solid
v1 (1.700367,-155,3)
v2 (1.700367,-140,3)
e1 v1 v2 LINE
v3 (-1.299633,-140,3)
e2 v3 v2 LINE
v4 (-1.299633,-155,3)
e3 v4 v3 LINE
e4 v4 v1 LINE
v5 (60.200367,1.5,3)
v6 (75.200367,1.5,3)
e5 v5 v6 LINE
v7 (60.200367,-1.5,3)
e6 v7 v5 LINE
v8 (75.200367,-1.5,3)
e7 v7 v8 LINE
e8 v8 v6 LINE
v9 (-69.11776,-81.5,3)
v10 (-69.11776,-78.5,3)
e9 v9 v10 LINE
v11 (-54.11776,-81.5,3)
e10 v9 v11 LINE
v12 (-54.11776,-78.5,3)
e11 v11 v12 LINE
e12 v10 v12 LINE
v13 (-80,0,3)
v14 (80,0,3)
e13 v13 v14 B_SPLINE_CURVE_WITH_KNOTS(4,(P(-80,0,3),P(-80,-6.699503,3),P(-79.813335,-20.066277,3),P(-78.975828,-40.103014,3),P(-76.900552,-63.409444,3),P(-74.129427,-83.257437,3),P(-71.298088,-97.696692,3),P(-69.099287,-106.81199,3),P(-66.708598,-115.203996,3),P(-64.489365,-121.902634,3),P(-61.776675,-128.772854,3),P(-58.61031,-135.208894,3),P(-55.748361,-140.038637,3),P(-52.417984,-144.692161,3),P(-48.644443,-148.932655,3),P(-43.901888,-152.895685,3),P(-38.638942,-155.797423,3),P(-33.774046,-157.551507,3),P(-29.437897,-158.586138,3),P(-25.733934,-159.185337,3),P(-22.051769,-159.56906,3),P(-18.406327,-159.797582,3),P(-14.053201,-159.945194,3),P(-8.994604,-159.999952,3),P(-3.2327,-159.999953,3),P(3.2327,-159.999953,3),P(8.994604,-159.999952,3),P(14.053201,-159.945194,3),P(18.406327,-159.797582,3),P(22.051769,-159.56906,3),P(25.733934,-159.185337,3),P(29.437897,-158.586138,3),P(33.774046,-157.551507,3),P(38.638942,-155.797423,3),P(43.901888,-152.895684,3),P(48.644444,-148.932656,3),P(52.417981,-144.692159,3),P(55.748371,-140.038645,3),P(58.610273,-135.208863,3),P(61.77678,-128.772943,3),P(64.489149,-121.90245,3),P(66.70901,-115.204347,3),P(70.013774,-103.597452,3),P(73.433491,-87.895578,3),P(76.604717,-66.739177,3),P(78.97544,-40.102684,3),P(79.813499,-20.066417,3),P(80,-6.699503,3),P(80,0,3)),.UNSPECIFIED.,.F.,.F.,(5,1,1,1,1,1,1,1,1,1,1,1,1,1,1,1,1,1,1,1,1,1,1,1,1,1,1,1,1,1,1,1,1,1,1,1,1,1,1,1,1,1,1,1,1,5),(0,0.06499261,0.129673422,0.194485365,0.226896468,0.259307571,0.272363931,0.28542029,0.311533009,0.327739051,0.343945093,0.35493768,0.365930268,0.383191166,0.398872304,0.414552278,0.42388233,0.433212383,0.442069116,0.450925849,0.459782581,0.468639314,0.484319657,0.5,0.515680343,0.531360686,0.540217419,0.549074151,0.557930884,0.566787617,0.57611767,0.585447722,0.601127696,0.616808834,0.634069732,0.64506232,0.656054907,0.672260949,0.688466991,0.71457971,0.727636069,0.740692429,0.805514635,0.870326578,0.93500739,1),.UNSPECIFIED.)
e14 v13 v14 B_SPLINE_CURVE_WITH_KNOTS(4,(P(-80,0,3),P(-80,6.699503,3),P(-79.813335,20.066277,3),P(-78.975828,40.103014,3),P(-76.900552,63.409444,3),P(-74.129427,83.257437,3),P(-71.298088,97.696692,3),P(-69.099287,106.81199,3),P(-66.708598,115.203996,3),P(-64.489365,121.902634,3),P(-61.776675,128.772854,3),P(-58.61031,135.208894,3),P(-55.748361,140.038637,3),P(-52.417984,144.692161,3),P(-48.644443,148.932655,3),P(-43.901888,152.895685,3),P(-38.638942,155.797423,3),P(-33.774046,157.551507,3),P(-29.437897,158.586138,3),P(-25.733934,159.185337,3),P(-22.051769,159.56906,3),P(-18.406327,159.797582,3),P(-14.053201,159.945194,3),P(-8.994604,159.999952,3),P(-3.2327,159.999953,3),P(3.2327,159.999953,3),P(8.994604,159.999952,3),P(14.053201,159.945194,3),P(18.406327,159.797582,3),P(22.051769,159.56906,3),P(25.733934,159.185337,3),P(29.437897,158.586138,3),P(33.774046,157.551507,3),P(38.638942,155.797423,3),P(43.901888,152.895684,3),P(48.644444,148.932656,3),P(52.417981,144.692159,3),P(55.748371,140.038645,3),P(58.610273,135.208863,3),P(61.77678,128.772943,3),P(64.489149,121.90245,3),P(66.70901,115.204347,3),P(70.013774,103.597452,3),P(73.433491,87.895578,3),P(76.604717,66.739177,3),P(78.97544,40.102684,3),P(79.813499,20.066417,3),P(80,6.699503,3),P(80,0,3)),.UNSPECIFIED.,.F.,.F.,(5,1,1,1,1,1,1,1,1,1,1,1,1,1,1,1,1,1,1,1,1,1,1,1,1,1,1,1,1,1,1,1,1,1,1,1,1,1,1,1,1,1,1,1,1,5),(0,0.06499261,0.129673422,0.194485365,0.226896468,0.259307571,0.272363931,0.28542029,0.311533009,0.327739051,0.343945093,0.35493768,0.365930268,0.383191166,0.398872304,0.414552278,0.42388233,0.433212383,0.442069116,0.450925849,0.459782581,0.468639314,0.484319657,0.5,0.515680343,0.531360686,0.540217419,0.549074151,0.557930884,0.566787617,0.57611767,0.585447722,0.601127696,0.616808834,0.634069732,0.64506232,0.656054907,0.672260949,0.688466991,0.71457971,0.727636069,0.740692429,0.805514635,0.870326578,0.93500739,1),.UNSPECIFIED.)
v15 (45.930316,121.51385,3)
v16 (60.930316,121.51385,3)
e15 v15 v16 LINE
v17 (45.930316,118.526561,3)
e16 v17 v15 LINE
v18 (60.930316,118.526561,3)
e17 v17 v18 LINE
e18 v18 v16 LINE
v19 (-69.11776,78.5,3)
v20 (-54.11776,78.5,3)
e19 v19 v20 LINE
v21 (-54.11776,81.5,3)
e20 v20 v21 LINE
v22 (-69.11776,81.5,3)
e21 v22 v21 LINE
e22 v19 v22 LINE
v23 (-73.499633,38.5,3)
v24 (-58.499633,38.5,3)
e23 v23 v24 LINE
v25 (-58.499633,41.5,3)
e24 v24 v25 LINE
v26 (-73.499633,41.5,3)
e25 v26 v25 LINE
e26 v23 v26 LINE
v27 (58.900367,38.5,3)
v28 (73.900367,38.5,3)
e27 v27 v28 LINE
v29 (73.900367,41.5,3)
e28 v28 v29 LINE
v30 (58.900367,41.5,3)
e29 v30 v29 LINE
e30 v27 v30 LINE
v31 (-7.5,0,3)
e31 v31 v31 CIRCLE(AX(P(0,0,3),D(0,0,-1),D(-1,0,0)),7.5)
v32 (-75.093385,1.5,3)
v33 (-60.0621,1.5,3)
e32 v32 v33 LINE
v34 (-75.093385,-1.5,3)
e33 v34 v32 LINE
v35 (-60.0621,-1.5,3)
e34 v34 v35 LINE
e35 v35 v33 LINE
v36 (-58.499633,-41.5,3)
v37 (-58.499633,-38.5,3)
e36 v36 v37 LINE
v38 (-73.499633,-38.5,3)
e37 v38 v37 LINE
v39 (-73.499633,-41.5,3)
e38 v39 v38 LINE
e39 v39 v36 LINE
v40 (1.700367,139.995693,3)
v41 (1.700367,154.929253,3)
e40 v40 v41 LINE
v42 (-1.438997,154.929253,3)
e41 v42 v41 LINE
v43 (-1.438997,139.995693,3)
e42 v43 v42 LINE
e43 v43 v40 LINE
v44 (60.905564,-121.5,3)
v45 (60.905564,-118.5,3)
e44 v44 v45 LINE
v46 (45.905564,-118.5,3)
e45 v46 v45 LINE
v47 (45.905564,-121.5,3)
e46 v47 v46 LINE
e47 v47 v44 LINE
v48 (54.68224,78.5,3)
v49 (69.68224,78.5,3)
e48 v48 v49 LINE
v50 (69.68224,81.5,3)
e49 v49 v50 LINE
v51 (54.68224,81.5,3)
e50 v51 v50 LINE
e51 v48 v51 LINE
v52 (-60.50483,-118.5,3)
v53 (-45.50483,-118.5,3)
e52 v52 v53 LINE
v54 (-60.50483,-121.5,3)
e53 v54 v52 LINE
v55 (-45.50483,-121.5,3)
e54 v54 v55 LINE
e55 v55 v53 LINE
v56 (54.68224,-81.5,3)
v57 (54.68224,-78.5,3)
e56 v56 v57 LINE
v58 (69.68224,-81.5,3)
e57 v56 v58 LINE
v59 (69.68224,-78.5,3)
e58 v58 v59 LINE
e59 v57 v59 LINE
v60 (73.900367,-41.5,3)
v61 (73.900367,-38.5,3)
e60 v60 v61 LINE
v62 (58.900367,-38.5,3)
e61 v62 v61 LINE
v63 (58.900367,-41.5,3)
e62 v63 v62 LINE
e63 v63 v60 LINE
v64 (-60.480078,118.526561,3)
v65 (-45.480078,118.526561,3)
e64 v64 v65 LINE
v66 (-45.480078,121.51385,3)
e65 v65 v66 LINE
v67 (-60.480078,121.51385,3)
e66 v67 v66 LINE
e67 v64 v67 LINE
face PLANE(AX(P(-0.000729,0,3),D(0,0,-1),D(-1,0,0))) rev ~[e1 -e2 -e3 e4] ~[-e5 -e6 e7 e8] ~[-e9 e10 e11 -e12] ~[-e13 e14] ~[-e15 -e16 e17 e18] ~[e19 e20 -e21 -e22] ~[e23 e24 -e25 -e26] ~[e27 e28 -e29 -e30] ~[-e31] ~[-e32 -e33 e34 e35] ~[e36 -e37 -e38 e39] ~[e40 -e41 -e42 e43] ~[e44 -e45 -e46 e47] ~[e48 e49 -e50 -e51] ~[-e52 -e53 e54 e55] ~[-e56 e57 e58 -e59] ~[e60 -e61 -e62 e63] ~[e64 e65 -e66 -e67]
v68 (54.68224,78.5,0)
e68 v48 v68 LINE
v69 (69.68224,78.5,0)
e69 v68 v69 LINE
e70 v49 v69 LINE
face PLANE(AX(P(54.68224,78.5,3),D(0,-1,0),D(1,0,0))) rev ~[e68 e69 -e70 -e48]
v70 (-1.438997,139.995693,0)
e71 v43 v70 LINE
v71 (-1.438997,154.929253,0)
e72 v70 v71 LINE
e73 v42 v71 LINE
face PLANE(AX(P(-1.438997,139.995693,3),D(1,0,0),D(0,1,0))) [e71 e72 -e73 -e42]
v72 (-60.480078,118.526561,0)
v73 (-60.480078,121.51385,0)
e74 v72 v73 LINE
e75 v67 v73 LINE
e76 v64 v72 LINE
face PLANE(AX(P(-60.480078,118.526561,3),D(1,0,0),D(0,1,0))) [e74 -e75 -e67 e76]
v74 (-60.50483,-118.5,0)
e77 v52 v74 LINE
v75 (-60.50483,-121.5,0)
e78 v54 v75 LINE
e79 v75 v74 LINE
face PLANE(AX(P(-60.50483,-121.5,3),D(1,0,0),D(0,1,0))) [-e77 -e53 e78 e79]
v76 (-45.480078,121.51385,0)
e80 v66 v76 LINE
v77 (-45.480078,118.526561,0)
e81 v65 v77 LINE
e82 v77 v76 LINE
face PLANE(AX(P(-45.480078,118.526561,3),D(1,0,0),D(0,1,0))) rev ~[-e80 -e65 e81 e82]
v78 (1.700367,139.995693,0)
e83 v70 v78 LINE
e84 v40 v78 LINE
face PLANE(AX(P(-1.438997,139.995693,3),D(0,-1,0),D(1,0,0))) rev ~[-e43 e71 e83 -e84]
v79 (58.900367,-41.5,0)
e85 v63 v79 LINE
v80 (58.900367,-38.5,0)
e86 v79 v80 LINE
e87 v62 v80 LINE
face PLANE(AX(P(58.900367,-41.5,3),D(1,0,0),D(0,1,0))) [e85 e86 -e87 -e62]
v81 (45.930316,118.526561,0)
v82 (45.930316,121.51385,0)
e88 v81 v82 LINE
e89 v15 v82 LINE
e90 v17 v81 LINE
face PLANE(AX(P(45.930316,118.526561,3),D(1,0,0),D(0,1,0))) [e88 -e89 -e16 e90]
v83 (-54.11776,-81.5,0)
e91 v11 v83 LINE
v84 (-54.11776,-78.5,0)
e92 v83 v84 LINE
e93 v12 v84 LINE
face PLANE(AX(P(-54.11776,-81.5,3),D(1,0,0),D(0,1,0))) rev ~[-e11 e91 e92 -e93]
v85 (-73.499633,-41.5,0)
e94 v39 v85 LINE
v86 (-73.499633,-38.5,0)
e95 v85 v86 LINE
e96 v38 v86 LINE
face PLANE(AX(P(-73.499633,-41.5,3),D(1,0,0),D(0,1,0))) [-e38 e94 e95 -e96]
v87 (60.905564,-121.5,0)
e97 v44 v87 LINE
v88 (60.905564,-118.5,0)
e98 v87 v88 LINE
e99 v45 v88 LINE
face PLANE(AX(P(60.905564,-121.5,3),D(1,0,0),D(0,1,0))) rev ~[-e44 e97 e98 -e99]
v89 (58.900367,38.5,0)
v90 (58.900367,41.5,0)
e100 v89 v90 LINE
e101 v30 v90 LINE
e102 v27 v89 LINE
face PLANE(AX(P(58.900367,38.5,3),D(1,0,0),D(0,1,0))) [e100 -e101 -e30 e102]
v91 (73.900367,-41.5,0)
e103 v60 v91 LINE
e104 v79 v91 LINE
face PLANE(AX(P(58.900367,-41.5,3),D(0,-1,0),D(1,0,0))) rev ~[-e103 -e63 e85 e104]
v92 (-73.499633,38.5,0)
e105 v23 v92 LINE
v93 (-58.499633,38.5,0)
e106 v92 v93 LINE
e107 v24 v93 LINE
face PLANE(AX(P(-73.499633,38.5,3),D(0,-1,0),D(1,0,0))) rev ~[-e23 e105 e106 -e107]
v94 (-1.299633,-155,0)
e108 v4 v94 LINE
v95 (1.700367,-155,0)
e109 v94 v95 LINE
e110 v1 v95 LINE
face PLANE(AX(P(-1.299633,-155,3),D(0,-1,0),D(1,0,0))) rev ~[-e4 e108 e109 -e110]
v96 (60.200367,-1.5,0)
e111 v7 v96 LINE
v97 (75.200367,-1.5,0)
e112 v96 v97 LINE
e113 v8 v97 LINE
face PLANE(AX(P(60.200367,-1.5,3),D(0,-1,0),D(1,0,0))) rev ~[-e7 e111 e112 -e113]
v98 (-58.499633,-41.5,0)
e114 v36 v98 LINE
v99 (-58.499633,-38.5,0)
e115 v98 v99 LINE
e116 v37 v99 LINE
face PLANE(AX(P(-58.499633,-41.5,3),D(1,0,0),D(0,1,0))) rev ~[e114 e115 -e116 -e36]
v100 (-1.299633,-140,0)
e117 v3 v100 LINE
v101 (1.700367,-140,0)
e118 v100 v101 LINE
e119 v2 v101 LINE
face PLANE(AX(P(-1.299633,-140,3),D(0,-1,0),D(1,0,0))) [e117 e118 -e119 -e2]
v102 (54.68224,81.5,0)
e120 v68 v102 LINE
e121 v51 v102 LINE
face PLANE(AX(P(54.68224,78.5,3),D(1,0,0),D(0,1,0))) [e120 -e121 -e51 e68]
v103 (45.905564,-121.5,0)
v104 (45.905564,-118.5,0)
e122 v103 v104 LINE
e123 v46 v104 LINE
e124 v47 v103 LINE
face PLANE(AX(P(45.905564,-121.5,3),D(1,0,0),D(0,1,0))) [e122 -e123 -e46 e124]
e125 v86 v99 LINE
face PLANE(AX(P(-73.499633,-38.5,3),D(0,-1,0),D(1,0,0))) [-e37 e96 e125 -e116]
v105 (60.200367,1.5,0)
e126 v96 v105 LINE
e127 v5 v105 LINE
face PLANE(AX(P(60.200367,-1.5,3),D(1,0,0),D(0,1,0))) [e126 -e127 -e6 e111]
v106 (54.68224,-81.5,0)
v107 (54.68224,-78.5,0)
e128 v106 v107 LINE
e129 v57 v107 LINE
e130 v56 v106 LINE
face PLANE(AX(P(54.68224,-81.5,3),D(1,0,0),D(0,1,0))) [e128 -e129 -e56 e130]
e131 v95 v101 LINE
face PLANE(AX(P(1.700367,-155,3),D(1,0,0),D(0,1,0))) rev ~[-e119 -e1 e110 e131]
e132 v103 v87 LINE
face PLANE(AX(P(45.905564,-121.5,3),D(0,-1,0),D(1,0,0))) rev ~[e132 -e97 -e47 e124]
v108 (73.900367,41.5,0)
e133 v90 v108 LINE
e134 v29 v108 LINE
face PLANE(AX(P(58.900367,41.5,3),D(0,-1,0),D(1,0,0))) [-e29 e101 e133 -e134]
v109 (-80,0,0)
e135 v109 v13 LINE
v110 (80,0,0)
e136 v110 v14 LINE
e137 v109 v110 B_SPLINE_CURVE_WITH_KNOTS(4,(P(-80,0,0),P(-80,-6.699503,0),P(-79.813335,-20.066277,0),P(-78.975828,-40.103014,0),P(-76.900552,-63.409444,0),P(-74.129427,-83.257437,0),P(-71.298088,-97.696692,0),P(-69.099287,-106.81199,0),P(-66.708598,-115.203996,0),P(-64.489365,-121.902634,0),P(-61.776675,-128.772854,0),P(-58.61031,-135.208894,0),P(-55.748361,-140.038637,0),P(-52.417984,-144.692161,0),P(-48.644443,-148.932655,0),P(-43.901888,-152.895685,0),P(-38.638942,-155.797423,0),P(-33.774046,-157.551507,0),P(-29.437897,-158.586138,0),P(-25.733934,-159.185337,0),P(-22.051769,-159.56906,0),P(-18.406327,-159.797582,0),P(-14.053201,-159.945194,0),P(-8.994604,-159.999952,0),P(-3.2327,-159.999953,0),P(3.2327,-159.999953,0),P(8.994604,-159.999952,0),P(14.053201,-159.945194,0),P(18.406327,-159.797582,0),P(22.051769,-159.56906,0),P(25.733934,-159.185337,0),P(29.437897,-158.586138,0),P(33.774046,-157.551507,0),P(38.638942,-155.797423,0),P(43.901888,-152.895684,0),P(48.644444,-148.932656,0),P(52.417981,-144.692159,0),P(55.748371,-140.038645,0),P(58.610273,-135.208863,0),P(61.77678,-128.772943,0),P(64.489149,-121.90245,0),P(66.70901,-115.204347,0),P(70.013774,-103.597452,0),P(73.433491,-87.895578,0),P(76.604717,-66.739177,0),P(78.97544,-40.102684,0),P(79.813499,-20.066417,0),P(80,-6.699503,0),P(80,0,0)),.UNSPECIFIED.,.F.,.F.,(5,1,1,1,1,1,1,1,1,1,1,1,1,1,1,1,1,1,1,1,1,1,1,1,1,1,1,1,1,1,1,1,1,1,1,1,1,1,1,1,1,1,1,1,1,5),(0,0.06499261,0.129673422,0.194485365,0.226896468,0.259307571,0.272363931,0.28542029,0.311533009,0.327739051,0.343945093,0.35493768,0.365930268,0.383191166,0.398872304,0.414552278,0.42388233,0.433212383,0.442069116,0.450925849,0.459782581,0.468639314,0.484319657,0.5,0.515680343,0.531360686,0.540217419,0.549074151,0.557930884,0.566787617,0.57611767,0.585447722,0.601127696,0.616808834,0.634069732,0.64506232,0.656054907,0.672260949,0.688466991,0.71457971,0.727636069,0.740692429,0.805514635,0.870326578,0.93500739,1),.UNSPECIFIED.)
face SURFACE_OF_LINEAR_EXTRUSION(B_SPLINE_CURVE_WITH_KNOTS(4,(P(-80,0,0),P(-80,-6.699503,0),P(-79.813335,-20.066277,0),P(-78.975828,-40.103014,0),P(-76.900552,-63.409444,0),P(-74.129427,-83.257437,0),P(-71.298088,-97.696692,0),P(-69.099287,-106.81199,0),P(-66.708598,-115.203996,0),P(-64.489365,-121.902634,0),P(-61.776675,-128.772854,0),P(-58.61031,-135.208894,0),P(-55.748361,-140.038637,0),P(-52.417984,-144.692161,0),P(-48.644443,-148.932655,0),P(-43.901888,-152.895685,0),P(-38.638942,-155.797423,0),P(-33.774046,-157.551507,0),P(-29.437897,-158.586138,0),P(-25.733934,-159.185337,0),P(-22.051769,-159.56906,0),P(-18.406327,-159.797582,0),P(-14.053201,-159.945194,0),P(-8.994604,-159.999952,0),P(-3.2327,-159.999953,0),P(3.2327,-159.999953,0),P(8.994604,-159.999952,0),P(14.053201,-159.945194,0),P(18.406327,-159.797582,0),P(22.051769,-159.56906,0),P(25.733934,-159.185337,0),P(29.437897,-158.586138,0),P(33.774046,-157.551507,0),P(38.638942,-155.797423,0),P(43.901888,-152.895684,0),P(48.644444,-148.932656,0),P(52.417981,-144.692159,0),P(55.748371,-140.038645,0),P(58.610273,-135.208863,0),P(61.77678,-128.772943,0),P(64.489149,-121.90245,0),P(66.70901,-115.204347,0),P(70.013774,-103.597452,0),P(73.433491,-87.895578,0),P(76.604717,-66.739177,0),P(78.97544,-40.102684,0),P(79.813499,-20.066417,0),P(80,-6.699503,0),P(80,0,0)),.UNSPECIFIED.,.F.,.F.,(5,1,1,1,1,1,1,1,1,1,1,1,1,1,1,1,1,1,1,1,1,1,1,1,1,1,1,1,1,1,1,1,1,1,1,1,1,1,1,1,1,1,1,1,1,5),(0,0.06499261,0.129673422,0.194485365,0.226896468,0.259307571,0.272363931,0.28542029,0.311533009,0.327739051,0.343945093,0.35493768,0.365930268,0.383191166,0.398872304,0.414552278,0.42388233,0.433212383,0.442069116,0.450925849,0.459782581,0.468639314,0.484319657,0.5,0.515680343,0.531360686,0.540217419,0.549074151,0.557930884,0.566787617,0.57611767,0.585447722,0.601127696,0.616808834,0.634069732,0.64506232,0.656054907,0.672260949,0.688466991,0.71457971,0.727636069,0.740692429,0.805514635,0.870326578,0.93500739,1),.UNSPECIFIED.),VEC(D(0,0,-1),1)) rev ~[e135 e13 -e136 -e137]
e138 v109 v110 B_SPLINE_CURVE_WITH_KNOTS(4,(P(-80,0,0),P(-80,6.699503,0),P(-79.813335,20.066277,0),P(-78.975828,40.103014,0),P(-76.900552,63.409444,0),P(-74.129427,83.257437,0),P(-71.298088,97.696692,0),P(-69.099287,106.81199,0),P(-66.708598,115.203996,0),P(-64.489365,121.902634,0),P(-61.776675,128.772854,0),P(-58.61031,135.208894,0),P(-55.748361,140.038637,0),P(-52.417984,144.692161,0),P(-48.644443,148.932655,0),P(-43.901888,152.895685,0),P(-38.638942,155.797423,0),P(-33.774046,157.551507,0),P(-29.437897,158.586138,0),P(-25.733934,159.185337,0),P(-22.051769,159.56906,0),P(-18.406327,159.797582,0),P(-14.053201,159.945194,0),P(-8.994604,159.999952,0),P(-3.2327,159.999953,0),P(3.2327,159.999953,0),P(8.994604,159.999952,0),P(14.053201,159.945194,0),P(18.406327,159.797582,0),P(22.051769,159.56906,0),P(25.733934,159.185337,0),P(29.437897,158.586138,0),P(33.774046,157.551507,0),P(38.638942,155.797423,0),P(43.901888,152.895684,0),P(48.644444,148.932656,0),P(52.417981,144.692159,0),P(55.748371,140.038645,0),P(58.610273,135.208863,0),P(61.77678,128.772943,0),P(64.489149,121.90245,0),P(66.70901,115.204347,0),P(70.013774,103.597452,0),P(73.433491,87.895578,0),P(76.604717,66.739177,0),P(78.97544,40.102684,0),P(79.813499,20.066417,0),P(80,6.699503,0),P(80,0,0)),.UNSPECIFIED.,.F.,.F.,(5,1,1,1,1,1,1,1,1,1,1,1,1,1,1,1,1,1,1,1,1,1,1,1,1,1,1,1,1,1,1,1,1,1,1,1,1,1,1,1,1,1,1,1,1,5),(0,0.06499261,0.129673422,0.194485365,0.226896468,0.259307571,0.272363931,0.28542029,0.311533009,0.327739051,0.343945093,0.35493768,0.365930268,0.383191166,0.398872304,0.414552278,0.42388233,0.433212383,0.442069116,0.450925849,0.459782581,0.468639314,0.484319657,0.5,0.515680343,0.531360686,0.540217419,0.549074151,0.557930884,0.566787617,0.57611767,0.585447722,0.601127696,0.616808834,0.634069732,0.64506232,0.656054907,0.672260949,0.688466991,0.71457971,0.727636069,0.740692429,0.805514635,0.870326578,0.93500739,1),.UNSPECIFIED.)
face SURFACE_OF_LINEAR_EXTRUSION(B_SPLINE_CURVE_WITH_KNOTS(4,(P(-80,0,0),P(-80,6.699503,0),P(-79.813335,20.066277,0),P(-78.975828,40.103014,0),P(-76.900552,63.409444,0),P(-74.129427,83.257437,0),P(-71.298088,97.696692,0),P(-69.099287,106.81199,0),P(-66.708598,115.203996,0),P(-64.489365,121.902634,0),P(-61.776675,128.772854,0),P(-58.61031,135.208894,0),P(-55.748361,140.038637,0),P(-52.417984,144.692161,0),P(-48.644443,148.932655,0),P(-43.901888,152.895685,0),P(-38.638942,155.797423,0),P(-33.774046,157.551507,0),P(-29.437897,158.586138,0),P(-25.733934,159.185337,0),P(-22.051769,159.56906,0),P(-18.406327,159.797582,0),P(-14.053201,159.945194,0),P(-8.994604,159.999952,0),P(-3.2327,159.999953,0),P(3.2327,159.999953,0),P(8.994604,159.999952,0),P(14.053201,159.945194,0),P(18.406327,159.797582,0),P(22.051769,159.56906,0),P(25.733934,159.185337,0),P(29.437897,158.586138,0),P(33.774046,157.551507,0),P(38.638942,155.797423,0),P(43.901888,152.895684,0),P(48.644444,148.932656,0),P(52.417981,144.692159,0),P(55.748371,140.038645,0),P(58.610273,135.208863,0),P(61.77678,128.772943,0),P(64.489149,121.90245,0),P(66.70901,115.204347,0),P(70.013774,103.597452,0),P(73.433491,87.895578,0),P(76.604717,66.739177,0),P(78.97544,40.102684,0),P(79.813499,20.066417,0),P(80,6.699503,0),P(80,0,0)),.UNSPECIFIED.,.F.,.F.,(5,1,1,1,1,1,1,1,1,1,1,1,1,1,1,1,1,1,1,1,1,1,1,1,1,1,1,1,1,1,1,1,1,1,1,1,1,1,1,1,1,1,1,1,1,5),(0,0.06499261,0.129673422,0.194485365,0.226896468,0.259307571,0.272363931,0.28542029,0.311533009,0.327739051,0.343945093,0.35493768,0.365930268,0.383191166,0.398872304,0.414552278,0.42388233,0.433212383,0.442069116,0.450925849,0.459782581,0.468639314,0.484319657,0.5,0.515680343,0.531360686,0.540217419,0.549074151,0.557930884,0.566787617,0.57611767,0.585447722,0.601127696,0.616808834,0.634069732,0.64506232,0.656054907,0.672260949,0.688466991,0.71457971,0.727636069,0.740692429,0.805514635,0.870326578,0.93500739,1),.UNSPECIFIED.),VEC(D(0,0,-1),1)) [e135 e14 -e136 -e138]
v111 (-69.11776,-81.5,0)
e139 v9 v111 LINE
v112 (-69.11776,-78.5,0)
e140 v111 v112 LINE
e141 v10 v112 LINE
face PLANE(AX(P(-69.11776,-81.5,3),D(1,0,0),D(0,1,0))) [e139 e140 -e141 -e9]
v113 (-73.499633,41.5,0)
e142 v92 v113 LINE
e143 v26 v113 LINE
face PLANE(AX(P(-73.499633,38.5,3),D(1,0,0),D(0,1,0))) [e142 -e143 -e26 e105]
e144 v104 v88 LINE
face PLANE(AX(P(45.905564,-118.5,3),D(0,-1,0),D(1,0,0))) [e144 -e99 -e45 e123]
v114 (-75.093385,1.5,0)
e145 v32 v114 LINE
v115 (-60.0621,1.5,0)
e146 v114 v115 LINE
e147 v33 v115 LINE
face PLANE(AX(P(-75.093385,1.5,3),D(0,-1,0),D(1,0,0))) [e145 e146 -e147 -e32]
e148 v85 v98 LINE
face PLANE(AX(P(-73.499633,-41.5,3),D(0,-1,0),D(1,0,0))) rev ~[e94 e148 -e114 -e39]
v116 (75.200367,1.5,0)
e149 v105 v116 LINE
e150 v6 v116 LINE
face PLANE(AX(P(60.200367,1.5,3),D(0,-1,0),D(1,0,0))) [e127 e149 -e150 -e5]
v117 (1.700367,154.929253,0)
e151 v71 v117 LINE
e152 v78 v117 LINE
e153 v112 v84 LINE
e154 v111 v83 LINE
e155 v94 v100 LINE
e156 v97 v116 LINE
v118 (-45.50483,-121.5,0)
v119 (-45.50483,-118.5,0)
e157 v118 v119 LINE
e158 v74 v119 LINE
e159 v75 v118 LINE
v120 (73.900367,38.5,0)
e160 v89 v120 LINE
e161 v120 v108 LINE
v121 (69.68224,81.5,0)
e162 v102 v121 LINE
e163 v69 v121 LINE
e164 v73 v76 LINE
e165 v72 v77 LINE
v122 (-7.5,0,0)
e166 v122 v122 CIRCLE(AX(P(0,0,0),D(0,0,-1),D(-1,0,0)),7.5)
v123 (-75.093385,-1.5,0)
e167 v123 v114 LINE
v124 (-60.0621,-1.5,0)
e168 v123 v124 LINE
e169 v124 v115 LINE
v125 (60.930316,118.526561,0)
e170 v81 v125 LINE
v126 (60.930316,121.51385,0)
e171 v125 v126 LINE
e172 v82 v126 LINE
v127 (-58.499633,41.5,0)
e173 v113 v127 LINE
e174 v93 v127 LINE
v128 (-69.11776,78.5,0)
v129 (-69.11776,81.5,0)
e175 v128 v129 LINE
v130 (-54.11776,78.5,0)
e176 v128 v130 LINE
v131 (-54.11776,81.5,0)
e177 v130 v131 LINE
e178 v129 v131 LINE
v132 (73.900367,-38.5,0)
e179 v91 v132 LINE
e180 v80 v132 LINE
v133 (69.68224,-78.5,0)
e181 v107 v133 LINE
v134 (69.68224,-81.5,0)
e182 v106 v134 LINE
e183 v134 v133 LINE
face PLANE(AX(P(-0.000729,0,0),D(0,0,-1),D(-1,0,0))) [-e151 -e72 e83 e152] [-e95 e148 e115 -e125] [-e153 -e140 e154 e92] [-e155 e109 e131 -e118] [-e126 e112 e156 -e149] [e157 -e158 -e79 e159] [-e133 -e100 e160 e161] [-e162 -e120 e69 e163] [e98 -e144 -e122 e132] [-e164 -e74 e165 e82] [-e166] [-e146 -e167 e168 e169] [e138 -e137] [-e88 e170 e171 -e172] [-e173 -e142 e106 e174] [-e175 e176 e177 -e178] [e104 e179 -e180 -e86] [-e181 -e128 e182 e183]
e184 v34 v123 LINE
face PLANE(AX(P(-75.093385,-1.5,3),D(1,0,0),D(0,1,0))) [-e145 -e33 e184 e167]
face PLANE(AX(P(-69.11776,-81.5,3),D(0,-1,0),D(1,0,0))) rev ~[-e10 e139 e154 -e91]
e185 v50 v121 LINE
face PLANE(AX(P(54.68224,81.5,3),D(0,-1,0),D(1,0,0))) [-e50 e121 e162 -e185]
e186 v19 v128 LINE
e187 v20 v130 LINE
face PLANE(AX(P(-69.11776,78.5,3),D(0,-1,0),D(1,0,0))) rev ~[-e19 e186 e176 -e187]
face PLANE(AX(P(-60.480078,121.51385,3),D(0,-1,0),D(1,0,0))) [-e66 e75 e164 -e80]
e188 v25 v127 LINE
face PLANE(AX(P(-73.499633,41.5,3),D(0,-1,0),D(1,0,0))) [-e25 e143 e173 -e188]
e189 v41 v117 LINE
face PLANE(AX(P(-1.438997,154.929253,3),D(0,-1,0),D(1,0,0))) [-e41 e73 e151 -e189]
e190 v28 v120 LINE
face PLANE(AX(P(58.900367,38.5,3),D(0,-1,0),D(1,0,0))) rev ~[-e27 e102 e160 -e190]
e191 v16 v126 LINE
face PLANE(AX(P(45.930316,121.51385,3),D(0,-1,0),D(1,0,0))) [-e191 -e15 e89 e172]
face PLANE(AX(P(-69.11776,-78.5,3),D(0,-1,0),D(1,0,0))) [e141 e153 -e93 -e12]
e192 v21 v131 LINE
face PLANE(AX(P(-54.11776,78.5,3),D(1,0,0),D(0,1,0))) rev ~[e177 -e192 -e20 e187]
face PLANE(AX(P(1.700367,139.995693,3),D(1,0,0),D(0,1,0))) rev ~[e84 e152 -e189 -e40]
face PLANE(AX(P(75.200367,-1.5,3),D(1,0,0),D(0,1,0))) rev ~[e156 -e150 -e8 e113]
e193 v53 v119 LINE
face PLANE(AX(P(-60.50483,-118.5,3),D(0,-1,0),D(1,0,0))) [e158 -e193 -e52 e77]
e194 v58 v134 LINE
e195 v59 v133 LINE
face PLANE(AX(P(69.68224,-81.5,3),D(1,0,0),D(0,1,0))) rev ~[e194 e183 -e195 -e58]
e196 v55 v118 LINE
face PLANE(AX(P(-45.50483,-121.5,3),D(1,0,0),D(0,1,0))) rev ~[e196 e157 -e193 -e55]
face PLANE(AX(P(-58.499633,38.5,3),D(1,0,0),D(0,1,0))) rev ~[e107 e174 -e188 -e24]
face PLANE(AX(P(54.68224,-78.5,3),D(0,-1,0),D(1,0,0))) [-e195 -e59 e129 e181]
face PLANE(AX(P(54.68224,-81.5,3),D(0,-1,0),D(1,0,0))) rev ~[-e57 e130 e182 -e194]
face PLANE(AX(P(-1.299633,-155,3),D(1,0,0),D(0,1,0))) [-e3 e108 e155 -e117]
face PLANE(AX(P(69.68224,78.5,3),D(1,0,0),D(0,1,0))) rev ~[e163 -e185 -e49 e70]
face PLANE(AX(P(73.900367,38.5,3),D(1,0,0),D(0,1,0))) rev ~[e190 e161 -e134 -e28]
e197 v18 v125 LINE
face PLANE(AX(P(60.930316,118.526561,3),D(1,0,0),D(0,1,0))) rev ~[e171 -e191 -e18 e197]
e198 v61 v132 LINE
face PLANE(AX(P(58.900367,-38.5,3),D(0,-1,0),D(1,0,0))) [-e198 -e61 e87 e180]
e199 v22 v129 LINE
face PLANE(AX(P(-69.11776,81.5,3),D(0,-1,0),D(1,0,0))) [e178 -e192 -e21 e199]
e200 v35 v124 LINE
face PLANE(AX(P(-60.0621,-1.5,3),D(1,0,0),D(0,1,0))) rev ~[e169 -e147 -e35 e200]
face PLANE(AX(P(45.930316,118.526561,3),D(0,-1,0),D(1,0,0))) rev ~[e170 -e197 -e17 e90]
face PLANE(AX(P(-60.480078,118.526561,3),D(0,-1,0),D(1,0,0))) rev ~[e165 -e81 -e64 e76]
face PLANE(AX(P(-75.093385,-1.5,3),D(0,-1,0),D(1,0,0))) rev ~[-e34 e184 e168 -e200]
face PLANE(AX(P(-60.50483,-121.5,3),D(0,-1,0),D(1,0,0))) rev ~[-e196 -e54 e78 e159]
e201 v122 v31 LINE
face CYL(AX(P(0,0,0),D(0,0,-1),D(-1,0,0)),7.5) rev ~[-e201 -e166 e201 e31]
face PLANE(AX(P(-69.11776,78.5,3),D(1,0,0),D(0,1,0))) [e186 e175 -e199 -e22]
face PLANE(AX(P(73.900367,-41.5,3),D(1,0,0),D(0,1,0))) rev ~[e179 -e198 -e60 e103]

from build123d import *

# Parameters (mm, degrees)
EXTRUDE_1_DEPTH     = 3
SKETCH_3_W          = 3
SKETCH_3_H          = 15.000000006
SKETCH_3_W_2        = 15
SKETCH_3_H_2        = 3
SKETCH_3_W_3        = 15.00000006
SKETCH_3_W_4        = 15.031285664
SKETCH_3_H_3        = 2.98728904
SKETCH_3_W_5        = 3.139363819
SKETCH_3_H_4        = 14.933559722
CUT_EXTRUDE_1_DEPTH = 3
SKETCH_5_W          = 14.999999994
SKETCH_5_H          = 3
SKETCH_5_W_2        = 14.999999996
CUT_EXTRUDE_2_DEPTH = 3
SKETCH_7_R          = 7.5
CUT_EXTRUDE_3_DEPTH = 3


with BuildPart() as part:
    # 草图1 → 凸台-拉伸1 (new body)
    with BuildSketch(Plane.XY):
        with BuildLine():
            add(Edge.make_bspline(
                [(-80, 0), (-79.999999517, 6.699503197), (-79.813334657, 20.06627682), (-78.975827788, 40.103014347), (-76.900551884, 63.409443582), (-74.129426691, 83.257436743), (-71.298088169, 97.696692105), (-69.099286902, 106.811990018), (-66.70859783, 115.203996028), (-64.48936494, 121.902634073), (-61.776675321, 128.772853984), (-58.610309744, 135.208894491), (-55.748361383, 140.038637222), (-52.417983516, 144.692160649), (-48.644443211, 148.932654926), (-43.90188816, 152.895684545), (-38.638941508, 155.797422808), (-33.774046499, 157.55150664), (-29.437897495, 158.586138347), (-25.733934467, 159.185337458), (-22.051769463, 159.569060425), (-18.406326982, 159.797581877), (-14.053201072, 159.945194341), (-8.994603761, 159.999951963), (-3.232699743, 159.999952561), (3.232699743, 159.999952561), (8.994603761, 159.999951963), (14.053201071, 159.945194341), (18.406326982, 159.797581876), (22.051769464, 159.569060426), (25.733934469, 159.185337459), (29.437897495, 158.586138348), (33.77404647, 157.551506616), (38.638941617, 155.797422901), (43.901887855, 152.895684285), (48.644443968, 148.932655572), (52.417981042, 144.69215854), (55.748370939, 140.038645368), (58.610273081, 135.208863236), (61.776779921, 128.772943152), (64.4891488, 121.90244982), (66.709010037, 115.204347422), (70.013773512, 103.597451909), (73.433491394, 87.895578262), (76.604717125, 66.739177323), (78.975439873, 40.102683662), (79.813498867, 20.066416803), (79.999999517, 6.699503197), (80, 0)],
                knots=[0, 0, 0, 0, 0, 0.06499261, 0.129673422, 0.194485365, 0.226896468, 0.259307571, 0.272363931, 0.28542029, 0.311533009, 0.327739051, 0.343945093, 0.35493768, 0.365930268, 0.383191166, 0.398872304, 0.414552278, 0.42388233, 0.433212383, 0.442069116, 0.450925849, 0.459782581, 0.468639314, 0.484319657, 0.5, 0.515680343, 0.531360686, 0.540217419, 0.549074151, 0.557930884, 0.566787617, 0.57611767, 0.585447722, 0.601127696, 0.616808834, 0.634069732, 0.64506232, 0.656054907, 0.672260949, 0.688466991, 0.71457971, 0.727636069, 0.740692429, 0.805514635, 0.870326578, 0.93500739, 1, 1, 1, 1, 1], degree=4))
            add(Edge.make_bspline(
                [(-80, 0), (-79.999999517, -6.699503197), (-79.813334657, -20.06627682), (-78.975827788, -40.103014347), (-76.900551884, -63.409443582), (-74.129426691, -83.257436743), (-71.298088169, -97.696692105), (-69.099286902, -106.811990018), (-66.70859783, -115.203996028), (-64.48936494, -121.902634073), (-61.776675321, -128.772853984), (-58.610309744, -135.208894491), (-55.748361383, -140.038637222), (-52.417983516, -144.692160649), (-48.644443211, -148.932654926), (-43.90188816, -152.895684545), (-38.638941508, -155.797422808), (-33.774046499, -157.55150664), (-29.437897495, -158.586138347), (-25.733934467, -159.185337458), (-22.051769463, -159.569060425), (-18.406326982, -159.797581877), (-14.053201072, -159.945194341), (-8.994603761, -159.999951963), (-3.232699743, -159.999952561), (3.232699743, -159.999952561), (8.994603761, -159.999951963), (14.053201071, -159.945194341), (18.406326982, -159.797581876), (22.051769464, -159.569060426), (25.733934469, -159.185337459), (29.437897495, -158.586138348), (33.77404647, -157.551506616), (38.638941617, -155.797422901), (43.901887855, -152.895684285), (48.644443968, -148.932655572), (52.417981042, -144.69215854), (55.748370939, -140.038645368), (58.610273081, -135.208863236), (61.776779921, -128.772943152), (64.4891488, -121.90244982), (66.709010037, -115.204347422), (70.013773512, -103.597451909), (73.433491394, -87.895578262), (76.604717125, -66.739177323), (78.975439873, -40.102683662), (79.813498867, -20.066416803), (79.999999517, -6.699503197), (80, 0)],
                knots=[0, 0, 0, 0, 0, 0.06499261, 0.129673422, 0.194485365, 0.226896468, 0.259307571, 0.272363931, 0.28542029, 0.311533009, 0.327739051, 0.343945093, 0.35493768, 0.365930268, 0.383191166, 0.398872304, 0.414552278, 0.42388233, 0.433212383, 0.442069116, 0.450925849, 0.459782581, 0.468639314, 0.484319657, 0.5, 0.515680343, 0.531360686, 0.540217419, 0.549074151, 0.557930884, 0.566787617, 0.57611767, 0.585447722, 0.601127696, 0.616808834, 0.634069732, 0.64506232, 0.656054907, 0.672260949, 0.688466991, 0.71457971, 0.727636069, 0.740692429, 0.805514635, 0.870326578, 0.93500739, 1, 1, 1, 1, 1], degree=4))
        make_face()
    extrude(amount=EXTRUDE_1_DEPTH)

    # 草图3 → 切除-拉伸1 (cut)
    with BuildSketch(Plane.XY.offset(3)):
        with Locations((0.200366681, -147.500000003)):
            Rectangle(SKETCH_3_W, SKETCH_3_H)
        with Locations((53.405563639, -119.999999996)):
            Rectangle(SKETCH_3_W_2, SKETCH_3_H_2)
        with Locations((-53.004830277, -119.999999996)):
            Rectangle(SKETCH_3_W_2, SKETCH_3_H_2)
        with Locations((-65.999633294, -40.000000001)):
            Rectangle(SKETCH_3_W_2, SKETCH_3_H_2)
        with Locations((66.400366657, -40.000000001)):
            Rectangle(SKETCH_3_W_2, SKETCH_3_H_2)
        with Locations((67.700366711, 1e-09)):
            Rectangle(SKETCH_3_W_3, SKETCH_3_H_2)
        with Locations((66.400366657, 40.000000004)):
            Rectangle(SKETCH_3_W_2, SKETCH_3_H_2)
        with Locations((-67.577742522, 0)):
            Rectangle(SKETCH_3_W_4, SKETCH_3_H_2)
        with Locations((-65.999633294, 40.000000004)):
            Rectangle(SKETCH_3_W_2, SKETCH_3_H_2)
        with Locations((-52.980078329, 120.020205938)):
            Rectangle(SKETCH_3_W_2, SKETCH_3_H_3)
        with Locations((53.430315586, 120.020205938)):
            Rectangle(SKETCH_3_W_2, SKETCH_3_H_3)
        with Locations((0.130684772, 147.462472771)):
            Rectangle(SKETCH_3_W_5, SKETCH_3_H_4)
    extrude(amount=-CUT_EXTRUDE_1_DEPTH, mode=Mode.SUBTRACT)

    # 草图5 → 切除-拉伸2 (cut)
    with BuildSketch(Plane.XY.offset(3)):
        with Locations((-61.617760231, -80.000000002)):
            Rectangle(SKETCH_5_W, SKETCH_5_H)
        with Locations((62.182239751, -80.000000002)):
            Rectangle(SKETCH_5_W_2, SKETCH_5_H)
        with Locations((62.182239751, 80.000000005)):
            Rectangle(SKETCH_5_W_2, SKETCH_5_H)
        with Locations((-61.617760231, 80.000000005)):
            Rectangle(SKETCH_5_W, SKETCH_5_H)
    extrude(amount=-CUT_EXTRUDE_2_DEPTH, mode=Mode.SUBTRACT)

    # 草图7 → 切除-拉伸3 (cut)
    with BuildSketch(Plane(origin=(0, 0, 0), x_dir=(-1, 0, 0), z_dir=(0, 0, -1))):
        Circle(SKETCH_7_R)
    extrude(amount=-CUT_EXTRUDE_3_DEPTH, mode=Mode.SUBTRACT)


solid = part.part
